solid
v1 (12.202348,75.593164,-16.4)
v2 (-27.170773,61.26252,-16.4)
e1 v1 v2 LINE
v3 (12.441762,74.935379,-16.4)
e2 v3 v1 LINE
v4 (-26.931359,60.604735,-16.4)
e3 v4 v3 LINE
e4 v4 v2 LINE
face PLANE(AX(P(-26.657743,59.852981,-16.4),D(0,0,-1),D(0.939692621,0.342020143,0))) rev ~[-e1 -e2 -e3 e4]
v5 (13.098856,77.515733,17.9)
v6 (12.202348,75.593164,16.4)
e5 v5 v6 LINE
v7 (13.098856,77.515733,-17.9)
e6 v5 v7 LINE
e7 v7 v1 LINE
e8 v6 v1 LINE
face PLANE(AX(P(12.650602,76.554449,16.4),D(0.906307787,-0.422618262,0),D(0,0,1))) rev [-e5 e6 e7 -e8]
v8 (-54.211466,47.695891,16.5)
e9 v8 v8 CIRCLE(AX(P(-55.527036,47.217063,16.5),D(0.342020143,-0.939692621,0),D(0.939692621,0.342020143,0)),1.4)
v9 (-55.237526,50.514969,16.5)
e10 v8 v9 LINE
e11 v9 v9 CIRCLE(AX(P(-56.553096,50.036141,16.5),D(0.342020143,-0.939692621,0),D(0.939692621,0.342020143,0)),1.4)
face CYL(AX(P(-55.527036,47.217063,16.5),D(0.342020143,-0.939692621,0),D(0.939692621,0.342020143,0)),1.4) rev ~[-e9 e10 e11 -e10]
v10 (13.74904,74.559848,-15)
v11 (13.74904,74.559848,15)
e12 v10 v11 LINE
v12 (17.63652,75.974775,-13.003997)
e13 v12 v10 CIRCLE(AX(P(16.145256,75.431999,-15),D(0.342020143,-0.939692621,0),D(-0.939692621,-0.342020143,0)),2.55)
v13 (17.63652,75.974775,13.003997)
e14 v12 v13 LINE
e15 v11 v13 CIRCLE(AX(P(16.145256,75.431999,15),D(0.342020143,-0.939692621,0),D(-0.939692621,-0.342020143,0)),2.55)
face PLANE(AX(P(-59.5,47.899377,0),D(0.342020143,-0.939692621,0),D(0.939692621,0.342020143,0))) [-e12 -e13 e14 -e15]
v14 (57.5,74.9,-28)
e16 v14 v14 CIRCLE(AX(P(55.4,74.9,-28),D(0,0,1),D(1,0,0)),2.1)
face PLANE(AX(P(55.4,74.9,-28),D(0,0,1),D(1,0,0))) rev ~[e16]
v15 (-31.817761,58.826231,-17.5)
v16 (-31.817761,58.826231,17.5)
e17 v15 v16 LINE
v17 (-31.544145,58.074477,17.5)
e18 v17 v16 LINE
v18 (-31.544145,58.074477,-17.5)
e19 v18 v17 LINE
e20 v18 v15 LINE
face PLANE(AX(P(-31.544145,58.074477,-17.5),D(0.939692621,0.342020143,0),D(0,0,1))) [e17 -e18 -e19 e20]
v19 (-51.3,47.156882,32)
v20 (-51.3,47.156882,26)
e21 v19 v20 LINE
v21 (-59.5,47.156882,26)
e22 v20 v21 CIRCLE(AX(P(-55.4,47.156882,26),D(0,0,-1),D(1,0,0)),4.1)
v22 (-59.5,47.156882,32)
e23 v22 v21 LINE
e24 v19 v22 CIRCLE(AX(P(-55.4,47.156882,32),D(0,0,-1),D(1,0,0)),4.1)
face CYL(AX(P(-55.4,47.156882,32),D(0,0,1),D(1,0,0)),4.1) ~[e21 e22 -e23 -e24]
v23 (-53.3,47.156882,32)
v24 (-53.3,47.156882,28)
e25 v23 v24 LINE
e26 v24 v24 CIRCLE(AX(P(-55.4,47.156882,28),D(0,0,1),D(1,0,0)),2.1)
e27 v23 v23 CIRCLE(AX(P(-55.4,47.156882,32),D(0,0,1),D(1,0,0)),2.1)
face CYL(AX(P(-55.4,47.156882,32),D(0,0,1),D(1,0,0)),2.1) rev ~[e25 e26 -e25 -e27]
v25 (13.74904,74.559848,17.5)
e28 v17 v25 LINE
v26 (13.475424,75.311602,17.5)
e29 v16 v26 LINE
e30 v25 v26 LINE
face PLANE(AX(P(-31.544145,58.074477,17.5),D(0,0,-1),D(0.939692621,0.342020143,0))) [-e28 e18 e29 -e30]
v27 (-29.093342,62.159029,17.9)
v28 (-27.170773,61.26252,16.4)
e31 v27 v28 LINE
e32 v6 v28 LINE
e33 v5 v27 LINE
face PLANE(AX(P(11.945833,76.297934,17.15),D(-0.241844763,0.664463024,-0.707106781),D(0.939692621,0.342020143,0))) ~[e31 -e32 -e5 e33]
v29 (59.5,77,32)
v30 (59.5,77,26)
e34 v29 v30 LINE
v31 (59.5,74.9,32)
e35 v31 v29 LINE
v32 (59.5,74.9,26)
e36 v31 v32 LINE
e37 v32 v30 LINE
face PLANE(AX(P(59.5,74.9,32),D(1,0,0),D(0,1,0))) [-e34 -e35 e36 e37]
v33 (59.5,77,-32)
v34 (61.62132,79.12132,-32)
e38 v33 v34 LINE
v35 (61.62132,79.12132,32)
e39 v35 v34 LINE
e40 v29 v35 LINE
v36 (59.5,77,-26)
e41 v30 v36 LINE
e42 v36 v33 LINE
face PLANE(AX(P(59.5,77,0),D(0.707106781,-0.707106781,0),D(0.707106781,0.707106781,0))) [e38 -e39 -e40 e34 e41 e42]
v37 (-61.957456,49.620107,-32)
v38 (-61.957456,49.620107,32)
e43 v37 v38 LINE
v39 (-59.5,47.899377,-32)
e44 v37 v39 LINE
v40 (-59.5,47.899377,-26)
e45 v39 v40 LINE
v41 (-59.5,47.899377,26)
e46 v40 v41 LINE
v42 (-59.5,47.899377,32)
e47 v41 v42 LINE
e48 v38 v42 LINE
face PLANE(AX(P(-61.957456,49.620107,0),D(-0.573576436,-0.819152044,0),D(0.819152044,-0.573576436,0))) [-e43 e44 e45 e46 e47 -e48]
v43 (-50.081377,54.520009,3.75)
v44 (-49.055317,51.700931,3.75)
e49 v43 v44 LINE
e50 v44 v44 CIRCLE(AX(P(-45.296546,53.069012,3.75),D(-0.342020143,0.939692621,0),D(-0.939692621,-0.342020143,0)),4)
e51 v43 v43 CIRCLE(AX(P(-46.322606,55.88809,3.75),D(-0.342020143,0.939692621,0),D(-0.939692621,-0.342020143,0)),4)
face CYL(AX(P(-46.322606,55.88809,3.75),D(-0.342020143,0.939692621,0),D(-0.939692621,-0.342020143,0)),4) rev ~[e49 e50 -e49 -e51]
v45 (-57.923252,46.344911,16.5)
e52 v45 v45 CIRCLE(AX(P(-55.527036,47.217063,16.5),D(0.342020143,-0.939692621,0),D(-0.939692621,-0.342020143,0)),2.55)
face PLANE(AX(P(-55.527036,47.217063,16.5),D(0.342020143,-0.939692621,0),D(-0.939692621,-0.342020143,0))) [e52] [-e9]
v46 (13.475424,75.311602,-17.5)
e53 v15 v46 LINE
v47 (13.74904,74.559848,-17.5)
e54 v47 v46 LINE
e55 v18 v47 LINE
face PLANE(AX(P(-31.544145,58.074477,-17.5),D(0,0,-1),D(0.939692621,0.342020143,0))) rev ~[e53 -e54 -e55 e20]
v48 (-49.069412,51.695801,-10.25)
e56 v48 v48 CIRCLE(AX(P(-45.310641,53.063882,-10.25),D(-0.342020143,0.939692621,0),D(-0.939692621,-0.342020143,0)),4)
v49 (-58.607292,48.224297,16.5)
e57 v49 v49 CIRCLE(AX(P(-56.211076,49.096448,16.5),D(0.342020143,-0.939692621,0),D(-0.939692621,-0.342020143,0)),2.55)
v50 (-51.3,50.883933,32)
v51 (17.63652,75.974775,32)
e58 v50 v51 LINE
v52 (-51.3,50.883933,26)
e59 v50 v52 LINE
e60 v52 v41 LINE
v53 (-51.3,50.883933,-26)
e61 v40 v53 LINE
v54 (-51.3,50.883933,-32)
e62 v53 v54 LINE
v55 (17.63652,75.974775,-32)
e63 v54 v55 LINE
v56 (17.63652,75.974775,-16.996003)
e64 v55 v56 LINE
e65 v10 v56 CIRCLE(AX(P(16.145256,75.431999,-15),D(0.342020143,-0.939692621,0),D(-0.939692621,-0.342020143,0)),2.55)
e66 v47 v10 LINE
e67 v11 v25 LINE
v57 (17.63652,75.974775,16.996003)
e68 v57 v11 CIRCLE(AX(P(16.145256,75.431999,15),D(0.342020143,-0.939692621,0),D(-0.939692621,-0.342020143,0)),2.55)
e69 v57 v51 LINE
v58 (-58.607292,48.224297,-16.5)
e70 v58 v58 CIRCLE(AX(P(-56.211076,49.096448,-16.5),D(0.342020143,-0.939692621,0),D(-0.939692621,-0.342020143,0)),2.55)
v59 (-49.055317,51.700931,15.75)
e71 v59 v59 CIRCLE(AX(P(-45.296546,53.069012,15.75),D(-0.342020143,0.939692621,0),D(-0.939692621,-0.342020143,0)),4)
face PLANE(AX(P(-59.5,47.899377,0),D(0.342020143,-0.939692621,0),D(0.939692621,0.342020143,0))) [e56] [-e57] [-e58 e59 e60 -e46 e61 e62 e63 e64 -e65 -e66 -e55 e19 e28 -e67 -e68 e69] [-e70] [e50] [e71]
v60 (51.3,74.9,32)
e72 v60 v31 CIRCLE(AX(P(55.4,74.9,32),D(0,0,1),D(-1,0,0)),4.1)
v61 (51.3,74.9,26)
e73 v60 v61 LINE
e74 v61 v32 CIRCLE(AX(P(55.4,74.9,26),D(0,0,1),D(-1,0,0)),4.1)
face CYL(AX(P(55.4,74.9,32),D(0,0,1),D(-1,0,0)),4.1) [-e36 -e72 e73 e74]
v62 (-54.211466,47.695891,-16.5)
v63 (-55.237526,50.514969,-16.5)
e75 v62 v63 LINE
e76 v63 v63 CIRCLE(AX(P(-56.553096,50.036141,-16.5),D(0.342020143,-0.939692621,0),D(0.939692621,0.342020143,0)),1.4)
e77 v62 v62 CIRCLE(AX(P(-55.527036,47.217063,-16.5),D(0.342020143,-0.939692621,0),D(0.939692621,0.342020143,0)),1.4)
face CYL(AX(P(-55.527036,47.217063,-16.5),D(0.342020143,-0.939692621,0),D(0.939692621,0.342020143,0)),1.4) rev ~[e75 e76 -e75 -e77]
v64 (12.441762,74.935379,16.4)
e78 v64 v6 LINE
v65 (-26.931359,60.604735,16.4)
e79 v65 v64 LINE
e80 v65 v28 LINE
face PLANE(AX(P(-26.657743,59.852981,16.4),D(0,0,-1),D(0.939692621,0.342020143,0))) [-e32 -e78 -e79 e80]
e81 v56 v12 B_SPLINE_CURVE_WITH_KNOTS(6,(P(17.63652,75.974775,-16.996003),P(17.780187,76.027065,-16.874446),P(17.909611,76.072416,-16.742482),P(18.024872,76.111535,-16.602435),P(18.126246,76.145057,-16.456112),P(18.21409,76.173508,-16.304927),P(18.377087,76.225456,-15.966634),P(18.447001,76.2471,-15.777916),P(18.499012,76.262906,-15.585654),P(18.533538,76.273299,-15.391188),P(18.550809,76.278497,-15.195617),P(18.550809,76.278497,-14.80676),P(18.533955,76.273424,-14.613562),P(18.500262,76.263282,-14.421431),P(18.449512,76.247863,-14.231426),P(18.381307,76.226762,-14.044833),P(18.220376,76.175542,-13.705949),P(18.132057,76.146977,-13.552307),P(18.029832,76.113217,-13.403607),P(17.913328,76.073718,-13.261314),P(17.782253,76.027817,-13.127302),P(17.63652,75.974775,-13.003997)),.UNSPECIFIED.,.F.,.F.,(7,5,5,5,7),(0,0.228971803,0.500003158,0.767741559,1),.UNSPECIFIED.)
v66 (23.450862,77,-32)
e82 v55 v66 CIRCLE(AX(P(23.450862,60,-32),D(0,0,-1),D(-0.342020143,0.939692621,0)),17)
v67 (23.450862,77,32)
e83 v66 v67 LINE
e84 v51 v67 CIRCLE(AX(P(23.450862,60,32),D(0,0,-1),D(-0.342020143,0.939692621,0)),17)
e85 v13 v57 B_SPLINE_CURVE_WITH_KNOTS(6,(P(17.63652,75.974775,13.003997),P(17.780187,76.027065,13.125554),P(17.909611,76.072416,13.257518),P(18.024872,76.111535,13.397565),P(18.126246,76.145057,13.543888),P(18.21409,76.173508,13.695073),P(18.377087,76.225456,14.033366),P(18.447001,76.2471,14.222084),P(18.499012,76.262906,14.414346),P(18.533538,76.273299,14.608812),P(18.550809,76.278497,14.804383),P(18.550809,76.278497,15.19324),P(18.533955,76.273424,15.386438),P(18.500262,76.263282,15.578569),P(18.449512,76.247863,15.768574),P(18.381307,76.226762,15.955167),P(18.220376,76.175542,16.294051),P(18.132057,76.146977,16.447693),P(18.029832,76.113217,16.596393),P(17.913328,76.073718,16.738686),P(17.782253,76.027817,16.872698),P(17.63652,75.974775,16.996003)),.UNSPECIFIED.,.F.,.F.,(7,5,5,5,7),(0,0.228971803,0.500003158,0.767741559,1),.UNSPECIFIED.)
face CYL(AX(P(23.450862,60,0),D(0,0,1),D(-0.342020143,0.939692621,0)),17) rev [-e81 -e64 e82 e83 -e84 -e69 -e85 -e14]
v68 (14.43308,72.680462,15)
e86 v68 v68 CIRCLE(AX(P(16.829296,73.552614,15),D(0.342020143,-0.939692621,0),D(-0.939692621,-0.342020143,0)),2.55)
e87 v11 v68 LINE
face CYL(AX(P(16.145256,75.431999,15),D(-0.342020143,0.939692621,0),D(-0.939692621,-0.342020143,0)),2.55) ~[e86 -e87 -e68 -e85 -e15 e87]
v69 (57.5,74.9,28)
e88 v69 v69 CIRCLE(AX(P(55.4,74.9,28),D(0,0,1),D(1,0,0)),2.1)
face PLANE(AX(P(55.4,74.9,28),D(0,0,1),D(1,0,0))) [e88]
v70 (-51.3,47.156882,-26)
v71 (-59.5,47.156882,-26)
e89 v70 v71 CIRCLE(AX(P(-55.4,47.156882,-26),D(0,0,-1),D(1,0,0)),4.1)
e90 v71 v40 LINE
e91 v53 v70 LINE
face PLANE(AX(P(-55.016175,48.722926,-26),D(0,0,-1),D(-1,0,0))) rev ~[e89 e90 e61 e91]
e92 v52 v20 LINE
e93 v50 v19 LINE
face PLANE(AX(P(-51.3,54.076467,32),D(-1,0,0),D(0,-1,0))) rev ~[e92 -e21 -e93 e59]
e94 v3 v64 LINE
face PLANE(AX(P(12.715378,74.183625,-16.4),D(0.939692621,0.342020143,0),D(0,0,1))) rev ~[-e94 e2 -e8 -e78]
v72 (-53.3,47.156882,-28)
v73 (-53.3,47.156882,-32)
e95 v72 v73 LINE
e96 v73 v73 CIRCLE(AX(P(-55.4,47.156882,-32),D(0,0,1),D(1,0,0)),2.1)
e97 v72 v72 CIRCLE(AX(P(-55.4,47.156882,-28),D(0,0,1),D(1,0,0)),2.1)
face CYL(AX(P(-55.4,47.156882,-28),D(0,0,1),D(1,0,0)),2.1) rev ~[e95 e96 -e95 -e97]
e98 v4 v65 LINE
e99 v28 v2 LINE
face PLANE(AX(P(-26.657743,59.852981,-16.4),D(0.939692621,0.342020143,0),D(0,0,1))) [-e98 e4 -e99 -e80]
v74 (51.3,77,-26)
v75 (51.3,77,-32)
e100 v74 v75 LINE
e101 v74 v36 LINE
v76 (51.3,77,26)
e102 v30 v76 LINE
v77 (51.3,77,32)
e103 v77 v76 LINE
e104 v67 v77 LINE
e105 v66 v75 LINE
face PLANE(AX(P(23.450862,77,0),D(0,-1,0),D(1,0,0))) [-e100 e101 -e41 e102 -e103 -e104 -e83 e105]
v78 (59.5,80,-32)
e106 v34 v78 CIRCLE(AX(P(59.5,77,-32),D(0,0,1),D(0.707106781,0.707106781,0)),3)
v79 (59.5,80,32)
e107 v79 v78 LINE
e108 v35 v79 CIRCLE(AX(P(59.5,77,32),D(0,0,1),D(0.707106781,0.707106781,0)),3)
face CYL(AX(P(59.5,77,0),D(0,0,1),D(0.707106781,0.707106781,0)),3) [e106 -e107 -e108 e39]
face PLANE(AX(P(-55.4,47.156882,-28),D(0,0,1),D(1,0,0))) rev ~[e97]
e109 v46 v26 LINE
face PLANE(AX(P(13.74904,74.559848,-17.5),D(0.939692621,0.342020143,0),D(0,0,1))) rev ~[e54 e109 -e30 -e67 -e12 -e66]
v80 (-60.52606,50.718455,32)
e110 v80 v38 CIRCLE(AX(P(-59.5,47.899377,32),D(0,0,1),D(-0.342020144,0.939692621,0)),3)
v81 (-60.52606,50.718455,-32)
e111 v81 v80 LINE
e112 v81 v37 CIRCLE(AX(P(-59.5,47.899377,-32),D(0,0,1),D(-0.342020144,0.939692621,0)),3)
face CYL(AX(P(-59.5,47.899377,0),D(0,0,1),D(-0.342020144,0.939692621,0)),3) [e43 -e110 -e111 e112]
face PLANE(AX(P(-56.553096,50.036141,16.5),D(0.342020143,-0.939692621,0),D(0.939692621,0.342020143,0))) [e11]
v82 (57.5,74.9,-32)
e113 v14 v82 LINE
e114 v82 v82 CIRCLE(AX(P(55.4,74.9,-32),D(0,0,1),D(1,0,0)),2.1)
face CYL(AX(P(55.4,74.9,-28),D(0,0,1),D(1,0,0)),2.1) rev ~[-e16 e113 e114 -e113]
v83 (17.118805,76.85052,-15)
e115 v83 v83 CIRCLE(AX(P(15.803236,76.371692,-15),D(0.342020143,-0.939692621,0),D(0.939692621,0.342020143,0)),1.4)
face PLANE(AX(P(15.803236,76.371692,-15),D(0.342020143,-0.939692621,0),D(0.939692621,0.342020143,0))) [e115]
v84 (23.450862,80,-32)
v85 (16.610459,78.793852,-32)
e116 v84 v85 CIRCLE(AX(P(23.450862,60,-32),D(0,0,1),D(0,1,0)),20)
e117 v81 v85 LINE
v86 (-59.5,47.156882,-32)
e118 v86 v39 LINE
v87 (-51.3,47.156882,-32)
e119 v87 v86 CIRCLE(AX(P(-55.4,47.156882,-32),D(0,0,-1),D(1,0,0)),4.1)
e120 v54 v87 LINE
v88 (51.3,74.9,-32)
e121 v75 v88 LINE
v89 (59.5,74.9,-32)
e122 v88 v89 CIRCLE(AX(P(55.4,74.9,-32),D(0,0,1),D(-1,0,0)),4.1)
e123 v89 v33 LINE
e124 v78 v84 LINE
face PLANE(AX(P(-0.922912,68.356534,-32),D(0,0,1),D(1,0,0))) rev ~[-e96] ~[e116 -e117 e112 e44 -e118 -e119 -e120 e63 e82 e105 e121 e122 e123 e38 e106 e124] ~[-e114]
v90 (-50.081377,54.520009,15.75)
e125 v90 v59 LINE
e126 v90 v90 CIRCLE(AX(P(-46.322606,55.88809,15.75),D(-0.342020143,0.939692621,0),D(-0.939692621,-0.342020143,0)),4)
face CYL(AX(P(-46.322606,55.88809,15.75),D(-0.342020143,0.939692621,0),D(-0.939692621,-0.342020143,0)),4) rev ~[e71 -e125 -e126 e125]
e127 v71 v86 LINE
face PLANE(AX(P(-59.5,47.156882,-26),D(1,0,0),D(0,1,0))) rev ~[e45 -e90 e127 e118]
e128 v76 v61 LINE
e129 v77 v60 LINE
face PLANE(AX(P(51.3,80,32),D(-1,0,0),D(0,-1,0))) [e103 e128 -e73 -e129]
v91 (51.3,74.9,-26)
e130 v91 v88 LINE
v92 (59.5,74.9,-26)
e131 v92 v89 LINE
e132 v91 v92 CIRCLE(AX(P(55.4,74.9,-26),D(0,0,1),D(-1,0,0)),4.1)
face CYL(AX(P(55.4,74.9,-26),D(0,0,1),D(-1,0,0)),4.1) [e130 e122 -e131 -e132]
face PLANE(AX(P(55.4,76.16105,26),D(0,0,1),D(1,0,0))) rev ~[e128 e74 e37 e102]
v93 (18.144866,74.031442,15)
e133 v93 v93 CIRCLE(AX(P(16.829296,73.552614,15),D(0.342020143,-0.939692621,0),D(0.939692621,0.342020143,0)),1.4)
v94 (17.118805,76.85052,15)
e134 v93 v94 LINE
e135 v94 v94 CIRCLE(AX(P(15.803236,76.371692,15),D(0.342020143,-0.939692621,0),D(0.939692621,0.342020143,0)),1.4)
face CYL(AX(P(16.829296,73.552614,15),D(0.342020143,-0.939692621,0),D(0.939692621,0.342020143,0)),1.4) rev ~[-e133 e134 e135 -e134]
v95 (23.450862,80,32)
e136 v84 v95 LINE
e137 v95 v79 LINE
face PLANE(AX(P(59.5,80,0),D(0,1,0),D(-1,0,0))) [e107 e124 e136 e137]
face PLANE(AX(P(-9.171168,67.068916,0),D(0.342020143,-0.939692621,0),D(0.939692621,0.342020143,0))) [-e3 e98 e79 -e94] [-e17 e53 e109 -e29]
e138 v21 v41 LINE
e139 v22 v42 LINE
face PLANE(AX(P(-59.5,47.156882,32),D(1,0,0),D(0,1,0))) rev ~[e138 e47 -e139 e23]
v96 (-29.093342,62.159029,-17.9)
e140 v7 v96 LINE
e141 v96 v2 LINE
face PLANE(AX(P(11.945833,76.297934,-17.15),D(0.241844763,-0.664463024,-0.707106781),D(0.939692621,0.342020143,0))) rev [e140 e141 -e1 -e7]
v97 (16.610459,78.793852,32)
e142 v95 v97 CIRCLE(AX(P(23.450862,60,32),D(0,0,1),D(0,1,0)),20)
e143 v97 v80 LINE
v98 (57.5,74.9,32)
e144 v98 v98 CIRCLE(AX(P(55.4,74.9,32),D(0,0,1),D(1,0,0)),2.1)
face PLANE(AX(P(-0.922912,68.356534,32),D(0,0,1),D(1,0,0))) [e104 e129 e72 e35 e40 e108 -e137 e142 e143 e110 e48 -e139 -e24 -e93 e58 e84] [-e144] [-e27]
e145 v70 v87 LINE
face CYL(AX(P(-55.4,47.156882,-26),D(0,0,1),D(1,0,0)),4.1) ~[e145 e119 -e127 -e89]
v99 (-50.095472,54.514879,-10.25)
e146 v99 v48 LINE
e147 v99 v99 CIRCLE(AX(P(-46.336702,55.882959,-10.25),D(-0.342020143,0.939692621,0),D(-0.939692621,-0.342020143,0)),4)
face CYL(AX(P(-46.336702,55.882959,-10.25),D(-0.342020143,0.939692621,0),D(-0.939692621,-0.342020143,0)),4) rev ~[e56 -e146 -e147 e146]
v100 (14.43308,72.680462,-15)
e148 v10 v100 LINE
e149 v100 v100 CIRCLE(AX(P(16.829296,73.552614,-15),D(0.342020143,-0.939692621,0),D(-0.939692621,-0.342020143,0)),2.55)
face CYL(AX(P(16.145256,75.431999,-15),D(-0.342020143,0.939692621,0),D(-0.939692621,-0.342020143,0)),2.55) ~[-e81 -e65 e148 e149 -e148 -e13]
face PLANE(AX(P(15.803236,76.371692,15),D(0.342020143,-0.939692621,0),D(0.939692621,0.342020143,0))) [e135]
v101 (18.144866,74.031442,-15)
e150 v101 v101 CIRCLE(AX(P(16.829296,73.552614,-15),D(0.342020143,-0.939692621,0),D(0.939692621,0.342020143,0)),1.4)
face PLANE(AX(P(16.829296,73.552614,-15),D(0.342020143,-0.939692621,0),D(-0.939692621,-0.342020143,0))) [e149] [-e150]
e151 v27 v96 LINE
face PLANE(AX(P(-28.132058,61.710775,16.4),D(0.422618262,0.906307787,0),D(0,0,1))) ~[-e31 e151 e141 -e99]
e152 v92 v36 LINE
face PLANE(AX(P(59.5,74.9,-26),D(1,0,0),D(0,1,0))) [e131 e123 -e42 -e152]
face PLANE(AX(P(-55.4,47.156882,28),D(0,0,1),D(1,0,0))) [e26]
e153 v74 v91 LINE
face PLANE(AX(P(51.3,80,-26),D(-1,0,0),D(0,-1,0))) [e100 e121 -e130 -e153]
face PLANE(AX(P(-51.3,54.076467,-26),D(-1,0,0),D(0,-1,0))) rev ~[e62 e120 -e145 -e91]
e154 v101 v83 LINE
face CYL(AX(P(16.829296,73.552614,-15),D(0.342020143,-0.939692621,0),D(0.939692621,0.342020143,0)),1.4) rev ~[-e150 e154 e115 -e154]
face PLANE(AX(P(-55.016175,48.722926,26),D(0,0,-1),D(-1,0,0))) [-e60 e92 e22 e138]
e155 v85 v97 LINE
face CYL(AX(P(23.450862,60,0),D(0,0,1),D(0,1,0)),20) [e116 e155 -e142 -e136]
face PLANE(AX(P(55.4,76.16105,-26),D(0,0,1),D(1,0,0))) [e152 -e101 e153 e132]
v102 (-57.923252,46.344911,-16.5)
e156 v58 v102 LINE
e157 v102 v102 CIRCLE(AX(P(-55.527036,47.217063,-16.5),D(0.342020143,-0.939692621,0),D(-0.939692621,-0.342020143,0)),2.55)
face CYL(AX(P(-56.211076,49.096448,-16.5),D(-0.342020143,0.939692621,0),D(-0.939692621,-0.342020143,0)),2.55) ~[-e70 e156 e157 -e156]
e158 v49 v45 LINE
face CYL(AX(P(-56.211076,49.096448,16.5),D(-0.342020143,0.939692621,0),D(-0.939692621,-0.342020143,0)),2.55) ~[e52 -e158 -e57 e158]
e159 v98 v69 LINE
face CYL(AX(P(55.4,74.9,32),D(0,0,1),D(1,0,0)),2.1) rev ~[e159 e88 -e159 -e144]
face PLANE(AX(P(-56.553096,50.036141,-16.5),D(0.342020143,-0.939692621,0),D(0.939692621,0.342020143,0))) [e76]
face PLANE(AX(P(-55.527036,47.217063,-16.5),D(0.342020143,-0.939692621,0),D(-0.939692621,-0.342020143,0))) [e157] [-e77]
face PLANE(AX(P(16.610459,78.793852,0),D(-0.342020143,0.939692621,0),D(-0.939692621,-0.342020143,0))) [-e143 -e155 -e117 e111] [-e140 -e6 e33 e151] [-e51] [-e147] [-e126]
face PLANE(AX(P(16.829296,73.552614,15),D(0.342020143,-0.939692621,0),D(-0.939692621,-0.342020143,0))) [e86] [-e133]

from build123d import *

# Parameters (mm, degrees)
EXTRUDE_1_DEPTH     = 32
EXTRUDE_START       = 32
SKETCH_2_R          = 2.1
EXTRUDE_2_DEPTH     = 6
EXTRUDE_START_2     = -26
SKETCH_2_3_R        = 2.1
EXTRUDE_3_DEPTH     = 6
CUT_EXTRUDE_START   = 32
SKETCH_2_4_R        = 2.1
CUT_EXTRUDE_1_DEPTH = 4
CUT_EXTRUDE_START_2 = -28
SKETCH_2_5_R        = 2.1
CUT_EXTRUDE_2_DEPTH = 4
SKETCH_3_W          = 48.2
SKETCH_3_H          = 35
CUT_EXTRUDE_3_DEPTH = 0.8
SKETCH_4_W          = 41.9
SKETCH_4_H          = 32.8
CUT_EXTRUDE_4_DEPTH = 92.767243652
SKETCH_7_R          = 4
CUT_EXTRUDE_5_DEPTH = 10
SKETCH_8_R          = 2.55
EXTRUDE_4_DEPTH     = 2
SKETCH_9_R          = 1.4
CUT_EXTRUDE_6_DEPTH = 3
CHAMFER_1_SIZE      = 1.5


with BuildPart() as part:
    # Эскиз1 → Бобышка-Вытянуть1 (new, symmetric)
    with BuildSketch(Plane.XY):
        with BuildLine():
            Line((59.5, 80), (23.450862198, 80))
            ThreePointArc((23.450862198, 80), (19.977898644, 79.69615506), (16.610459331, 78.793852416))
            Line((16.610459331, 78.793852416), (-60.52606043, 50.718455248))
            ThreePointArc((-60.52606043, 50.718455248), (-61.326284287, 50.279437406), (-61.957456133, 49.620106694))
            Line((-61.957456133, 49.620106694), (-59.5, 47.899377385))
            Line((-59.5, 47.899377385), (17.636519761, 75.974774553))
            ThreePointArc((17.636519761, 75.974774553), (20.498843177, 76.741731801), (23.450862198, 77))
            Line((23.450862198, 77), (59.5, 77))
            Line((59.5, 77), (61.621320344, 79.121320344))
            ThreePointArc((61.621320344, 79.121320344), (60.648050297, 79.771638598), (59.5, 80))
        make_face()
    extrude(amount=EXTRUDE_1_DEPTH, both=True)

    # Эскиз2 → Бобышка-Вытянуть2 (add)
    # profile 1 of 4: a face of its own
    with BuildSketch(Plane.XY.offset(EXTRUDE_START)):
        with BuildLine():
            Line((51.3, 80), (51.3, 74.9))
            ThreePointArc((51.3, 74.9), (55.4, 70.8), (59.5, 74.9))
            Line((59.5, 74.9), (59.5, 80))
            Line((59.5, 80), (51.3, 80))
        make_face()
        with Locations((55.4, 74.9)):
            Circle(SKETCH_2_R, mode=Mode.SUBTRACT)
    # profile 2 of 4: a face of its own
    with BuildSketch(Plane.XY.offset(EXTRUDE_START)):
        with Locations((55.4, 74.9)):
            Circle(SKETCH_2_R)
    # profile 3 of 4: a face of its own
    with BuildSketch(Plane.XY.offset(EXTRUDE_START)):
        with BuildLine():
            ThreePointArc((-51.3, 47.156882024), (-55.4, 43.056882024), (-59.5, 47.156882024))
            Line((-59.5, 47.156882024), (-59.5, 51.091910703))
            Line((-59.5, 51.091910703), (-51.3, 54.076466624))
            Line((-51.3, 54.076466624), (-51.3, 47.156882024))
        make_face()
        with Locations((-55.4, 47.156882024)):
            Circle(SKETCH_2_R, mode=Mode.SUBTRACT)
    # profile 4 of 4: a face of its own
    with BuildSketch(Plane.XY.offset(EXTRUDE_START)):
        with Locations((-55.4, 47.156882024)):
            Circle(SKETCH_2_R)
    extrude(amount=-EXTRUDE_2_DEPTH)

    # Эскиз2<3> → Бобышка-Вытянуть3 (add)
    # profile 1 of 4: a face of its own
    with BuildSketch(Plane.XY.offset(EXTRUDE_START_2)):
        with BuildLine():
            Line((51.3, 80), (51.3, 74.9))
            ThreePointArc((51.3, 74.9), (55.4, 70.8), (59.5, 74.9))
            Line((59.5, 74.9), (59.5, 80))
            Line((59.5, 80), (51.3, 80))
        make_face()
        with Locations((55.4, 74.9)):
            Circle(SKETCH_2_3_R, mode=Mode.SUBTRACT)
    # profile 2 of 4: a face of its own
    with BuildSketch(Plane.XY.offset(EXTRUDE_START_2)):
        with Locations((55.4, 74.9)):
            Circle(SKETCH_2_3_R)
    # profile 3 of 4: a face of its own
    with BuildSketch(Plane.XY.offset(EXTRUDE_START_2)):
        with BuildLine():
            ThreePointArc((-51.3, 47.156882024), (-55.4, 43.056882024), (-59.5, 47.156882024))
            Line((-59.5, 47.156882024), (-59.5, 51.091910703))
            Line((-59.5, 51.091910703), (-51.3, 54.076466624))
            Line((-51.3, 54.076466624), (-51.3, 47.156882024))
        make_face()
        with Locations((-55.4, 47.156882024)):
            Circle(SKETCH_2_3_R, mode=Mode.SUBTRACT)
    # profile 4 of 4: a face of its own
    with BuildSketch(Plane.XY.offset(EXTRUDE_START_2)):
        with Locations((-55.4, 47.156882024)):
            Circle(SKETCH_2_3_R)
    extrude(amount=-EXTRUDE_3_DEPTH)

    # Эскиз2<4> → Вырез-Вытянуть1 (cut)
    with BuildSketch(Plane.XY.offset(CUT_EXTRUDE_START)):
        with Locations((55.4, 74.9)):
            Circle(SKETCH_2_4_R)
        with Locations((-55.4, 47.156882024)):
            Circle(SKETCH_2_4_R)
    extrude(amount=-CUT_EXTRUDE_1_DEPTH, mode=Mode.SUBTRACT)

    # Эскиз2<5> → Вырез-Вытянуть2 (cut)
    with BuildSketch(Plane.XY.offset(CUT_EXTRUDE_START_2)):
        with Locations((55.4, 74.9)):
            Circle(SKETCH_2_5_R)
        with Locations((-55.4, 47.156882024)):
            Circle(SKETCH_2_5_R)
    extrude(amount=-CUT_EXTRUDE_2_DEPTH, mode=Mode.SUBTRACT)

    # Эскиз3 → Вырез-Вытянуть3 (cut)
    with BuildSketch(Plane(origin=(-22.354740965, 61.419146018, 0), x_dir=(0.9396926207859082, 0.3420201433256692, 0), z_dir=(0.3420201433256692, -0.9396926207859082, 0))):
        with Locations((14.320840982, 0)):
            Rectangle(SKETCH_3_W, SKETCH_3_H)
    extrude(amount=-CUT_EXTRUDE_3_DEPTH, mode=Mode.SUBTRACT)

    # Эскиз4 → Вырез-Вытянуть4 (cut, through all)
    with BuildSketch(Plane(origin=(-22.354740965, 61.419146018, 0), x_dir=(0.9396926207859082, 0.3420201433256692, 0), z_dir=(0.3420201433256692, -0.9396926207859082, 0))):
        with Locations((16.370840982, 0)):
            Rectangle(SKETCH_4_W, SKETCH_4_H)
    extrude(amount=-CUT_EXTRUDE_4_DEPTH, mode=Mode.SUBTRACT)

    # Эскиз7 → Вырез-Вытянуть5 (cut)
    with BuildSketch(Plane(origin=(-23.380801395, 64.238223881, 0), x_dir=(0.9396926207859081, 0.34202014332566955, 0), z_dir=(-0.34202014332566955, 0.9396926207859082, 0))):
        with Locations(Location((-24.429159018, 10.25, 0), (0, 0, 180))):
            Circle(SKETCH_7_R)
        with Locations(Location((-24.414159018, -3.75, 0), (0, 0, 180))):
            Circle(SKETCH_7_R)
        with Locations(Location((-24.414159018, -15.75, 0), (0, 0, 180))):
            Circle(SKETCH_7_R)
    extrude(amount=-CUT_EXTRUDE_5_DEPTH, mode=Mode.SUBTRACT)

    # Эскиз8 → Бобышка-Вытянуть4 (add)
    with BuildSketch(Plane(origin=(-22.354740965, 61.419146018, 0), x_dir=(0.9396926207859081, 0.3420201433256697, 0), z_dir=(0.34202014332566966, -0.939692620785908, 0))):
        with Locations(Location((40.970840982, 15, 0), (0, 0, 180))):
            Circle(SKETCH_8_R)
        with Locations(Location((40.970840982, -15, 0), (0, 0, 180))):
            Circle(SKETCH_8_R)
        with Locations(Location((-36.029159018, -16.5, 0), (0, 0, 180))):
            Circle(SKETCH_8_R)
        with Locations(Location((-36.029159018, 16.5, 0), (0, 0, 180))):
            Circle(SKETCH_8_R)
    extrude(amount=EXTRUDE_4_DEPTH)

    # Эскиз9 → Вырез-Вытянуть6 (cut)
    with BuildSketch(Plane(origin=(-21.670700678, 59.539760777, 0), x_dir=(0.9396926207859104, 0.34202014332566316, 0), z_dir=(0.34202014332566316, -0.9396926207859104, 0))):
        with Locations((40.970840982, -15)):
            Circle(SKETCH_9_R)
        with Locations((40.970840982, 15)):
            Circle(SKETCH_9_R)
        with Locations((-36.029159018, -16.5)):
            Circle(SKETCH_9_R)
        with Locations((-36.029159018, 16.5)):
            Circle(SKETCH_9_R)
    extrude(amount=-CUT_EXTRUDE_6_DEPTH, mode=Mode.SUBTRACT)

    # Фаска1
    chamfer_1_edges = [part.edges().sort_by_distance(p)[0] for p in [
        (-27.683803334, 62.672059257, 0),
        (-7.997242928, 69.83738126, 16.4),
        (11.689317477, 77.002703262, 0),
        (-7.997242928, 69.83738126, -16.4),
    ]]
    chamfer(chamfer_1_edges, length=CHAMFER_1_SIZE)


solid = part.part
